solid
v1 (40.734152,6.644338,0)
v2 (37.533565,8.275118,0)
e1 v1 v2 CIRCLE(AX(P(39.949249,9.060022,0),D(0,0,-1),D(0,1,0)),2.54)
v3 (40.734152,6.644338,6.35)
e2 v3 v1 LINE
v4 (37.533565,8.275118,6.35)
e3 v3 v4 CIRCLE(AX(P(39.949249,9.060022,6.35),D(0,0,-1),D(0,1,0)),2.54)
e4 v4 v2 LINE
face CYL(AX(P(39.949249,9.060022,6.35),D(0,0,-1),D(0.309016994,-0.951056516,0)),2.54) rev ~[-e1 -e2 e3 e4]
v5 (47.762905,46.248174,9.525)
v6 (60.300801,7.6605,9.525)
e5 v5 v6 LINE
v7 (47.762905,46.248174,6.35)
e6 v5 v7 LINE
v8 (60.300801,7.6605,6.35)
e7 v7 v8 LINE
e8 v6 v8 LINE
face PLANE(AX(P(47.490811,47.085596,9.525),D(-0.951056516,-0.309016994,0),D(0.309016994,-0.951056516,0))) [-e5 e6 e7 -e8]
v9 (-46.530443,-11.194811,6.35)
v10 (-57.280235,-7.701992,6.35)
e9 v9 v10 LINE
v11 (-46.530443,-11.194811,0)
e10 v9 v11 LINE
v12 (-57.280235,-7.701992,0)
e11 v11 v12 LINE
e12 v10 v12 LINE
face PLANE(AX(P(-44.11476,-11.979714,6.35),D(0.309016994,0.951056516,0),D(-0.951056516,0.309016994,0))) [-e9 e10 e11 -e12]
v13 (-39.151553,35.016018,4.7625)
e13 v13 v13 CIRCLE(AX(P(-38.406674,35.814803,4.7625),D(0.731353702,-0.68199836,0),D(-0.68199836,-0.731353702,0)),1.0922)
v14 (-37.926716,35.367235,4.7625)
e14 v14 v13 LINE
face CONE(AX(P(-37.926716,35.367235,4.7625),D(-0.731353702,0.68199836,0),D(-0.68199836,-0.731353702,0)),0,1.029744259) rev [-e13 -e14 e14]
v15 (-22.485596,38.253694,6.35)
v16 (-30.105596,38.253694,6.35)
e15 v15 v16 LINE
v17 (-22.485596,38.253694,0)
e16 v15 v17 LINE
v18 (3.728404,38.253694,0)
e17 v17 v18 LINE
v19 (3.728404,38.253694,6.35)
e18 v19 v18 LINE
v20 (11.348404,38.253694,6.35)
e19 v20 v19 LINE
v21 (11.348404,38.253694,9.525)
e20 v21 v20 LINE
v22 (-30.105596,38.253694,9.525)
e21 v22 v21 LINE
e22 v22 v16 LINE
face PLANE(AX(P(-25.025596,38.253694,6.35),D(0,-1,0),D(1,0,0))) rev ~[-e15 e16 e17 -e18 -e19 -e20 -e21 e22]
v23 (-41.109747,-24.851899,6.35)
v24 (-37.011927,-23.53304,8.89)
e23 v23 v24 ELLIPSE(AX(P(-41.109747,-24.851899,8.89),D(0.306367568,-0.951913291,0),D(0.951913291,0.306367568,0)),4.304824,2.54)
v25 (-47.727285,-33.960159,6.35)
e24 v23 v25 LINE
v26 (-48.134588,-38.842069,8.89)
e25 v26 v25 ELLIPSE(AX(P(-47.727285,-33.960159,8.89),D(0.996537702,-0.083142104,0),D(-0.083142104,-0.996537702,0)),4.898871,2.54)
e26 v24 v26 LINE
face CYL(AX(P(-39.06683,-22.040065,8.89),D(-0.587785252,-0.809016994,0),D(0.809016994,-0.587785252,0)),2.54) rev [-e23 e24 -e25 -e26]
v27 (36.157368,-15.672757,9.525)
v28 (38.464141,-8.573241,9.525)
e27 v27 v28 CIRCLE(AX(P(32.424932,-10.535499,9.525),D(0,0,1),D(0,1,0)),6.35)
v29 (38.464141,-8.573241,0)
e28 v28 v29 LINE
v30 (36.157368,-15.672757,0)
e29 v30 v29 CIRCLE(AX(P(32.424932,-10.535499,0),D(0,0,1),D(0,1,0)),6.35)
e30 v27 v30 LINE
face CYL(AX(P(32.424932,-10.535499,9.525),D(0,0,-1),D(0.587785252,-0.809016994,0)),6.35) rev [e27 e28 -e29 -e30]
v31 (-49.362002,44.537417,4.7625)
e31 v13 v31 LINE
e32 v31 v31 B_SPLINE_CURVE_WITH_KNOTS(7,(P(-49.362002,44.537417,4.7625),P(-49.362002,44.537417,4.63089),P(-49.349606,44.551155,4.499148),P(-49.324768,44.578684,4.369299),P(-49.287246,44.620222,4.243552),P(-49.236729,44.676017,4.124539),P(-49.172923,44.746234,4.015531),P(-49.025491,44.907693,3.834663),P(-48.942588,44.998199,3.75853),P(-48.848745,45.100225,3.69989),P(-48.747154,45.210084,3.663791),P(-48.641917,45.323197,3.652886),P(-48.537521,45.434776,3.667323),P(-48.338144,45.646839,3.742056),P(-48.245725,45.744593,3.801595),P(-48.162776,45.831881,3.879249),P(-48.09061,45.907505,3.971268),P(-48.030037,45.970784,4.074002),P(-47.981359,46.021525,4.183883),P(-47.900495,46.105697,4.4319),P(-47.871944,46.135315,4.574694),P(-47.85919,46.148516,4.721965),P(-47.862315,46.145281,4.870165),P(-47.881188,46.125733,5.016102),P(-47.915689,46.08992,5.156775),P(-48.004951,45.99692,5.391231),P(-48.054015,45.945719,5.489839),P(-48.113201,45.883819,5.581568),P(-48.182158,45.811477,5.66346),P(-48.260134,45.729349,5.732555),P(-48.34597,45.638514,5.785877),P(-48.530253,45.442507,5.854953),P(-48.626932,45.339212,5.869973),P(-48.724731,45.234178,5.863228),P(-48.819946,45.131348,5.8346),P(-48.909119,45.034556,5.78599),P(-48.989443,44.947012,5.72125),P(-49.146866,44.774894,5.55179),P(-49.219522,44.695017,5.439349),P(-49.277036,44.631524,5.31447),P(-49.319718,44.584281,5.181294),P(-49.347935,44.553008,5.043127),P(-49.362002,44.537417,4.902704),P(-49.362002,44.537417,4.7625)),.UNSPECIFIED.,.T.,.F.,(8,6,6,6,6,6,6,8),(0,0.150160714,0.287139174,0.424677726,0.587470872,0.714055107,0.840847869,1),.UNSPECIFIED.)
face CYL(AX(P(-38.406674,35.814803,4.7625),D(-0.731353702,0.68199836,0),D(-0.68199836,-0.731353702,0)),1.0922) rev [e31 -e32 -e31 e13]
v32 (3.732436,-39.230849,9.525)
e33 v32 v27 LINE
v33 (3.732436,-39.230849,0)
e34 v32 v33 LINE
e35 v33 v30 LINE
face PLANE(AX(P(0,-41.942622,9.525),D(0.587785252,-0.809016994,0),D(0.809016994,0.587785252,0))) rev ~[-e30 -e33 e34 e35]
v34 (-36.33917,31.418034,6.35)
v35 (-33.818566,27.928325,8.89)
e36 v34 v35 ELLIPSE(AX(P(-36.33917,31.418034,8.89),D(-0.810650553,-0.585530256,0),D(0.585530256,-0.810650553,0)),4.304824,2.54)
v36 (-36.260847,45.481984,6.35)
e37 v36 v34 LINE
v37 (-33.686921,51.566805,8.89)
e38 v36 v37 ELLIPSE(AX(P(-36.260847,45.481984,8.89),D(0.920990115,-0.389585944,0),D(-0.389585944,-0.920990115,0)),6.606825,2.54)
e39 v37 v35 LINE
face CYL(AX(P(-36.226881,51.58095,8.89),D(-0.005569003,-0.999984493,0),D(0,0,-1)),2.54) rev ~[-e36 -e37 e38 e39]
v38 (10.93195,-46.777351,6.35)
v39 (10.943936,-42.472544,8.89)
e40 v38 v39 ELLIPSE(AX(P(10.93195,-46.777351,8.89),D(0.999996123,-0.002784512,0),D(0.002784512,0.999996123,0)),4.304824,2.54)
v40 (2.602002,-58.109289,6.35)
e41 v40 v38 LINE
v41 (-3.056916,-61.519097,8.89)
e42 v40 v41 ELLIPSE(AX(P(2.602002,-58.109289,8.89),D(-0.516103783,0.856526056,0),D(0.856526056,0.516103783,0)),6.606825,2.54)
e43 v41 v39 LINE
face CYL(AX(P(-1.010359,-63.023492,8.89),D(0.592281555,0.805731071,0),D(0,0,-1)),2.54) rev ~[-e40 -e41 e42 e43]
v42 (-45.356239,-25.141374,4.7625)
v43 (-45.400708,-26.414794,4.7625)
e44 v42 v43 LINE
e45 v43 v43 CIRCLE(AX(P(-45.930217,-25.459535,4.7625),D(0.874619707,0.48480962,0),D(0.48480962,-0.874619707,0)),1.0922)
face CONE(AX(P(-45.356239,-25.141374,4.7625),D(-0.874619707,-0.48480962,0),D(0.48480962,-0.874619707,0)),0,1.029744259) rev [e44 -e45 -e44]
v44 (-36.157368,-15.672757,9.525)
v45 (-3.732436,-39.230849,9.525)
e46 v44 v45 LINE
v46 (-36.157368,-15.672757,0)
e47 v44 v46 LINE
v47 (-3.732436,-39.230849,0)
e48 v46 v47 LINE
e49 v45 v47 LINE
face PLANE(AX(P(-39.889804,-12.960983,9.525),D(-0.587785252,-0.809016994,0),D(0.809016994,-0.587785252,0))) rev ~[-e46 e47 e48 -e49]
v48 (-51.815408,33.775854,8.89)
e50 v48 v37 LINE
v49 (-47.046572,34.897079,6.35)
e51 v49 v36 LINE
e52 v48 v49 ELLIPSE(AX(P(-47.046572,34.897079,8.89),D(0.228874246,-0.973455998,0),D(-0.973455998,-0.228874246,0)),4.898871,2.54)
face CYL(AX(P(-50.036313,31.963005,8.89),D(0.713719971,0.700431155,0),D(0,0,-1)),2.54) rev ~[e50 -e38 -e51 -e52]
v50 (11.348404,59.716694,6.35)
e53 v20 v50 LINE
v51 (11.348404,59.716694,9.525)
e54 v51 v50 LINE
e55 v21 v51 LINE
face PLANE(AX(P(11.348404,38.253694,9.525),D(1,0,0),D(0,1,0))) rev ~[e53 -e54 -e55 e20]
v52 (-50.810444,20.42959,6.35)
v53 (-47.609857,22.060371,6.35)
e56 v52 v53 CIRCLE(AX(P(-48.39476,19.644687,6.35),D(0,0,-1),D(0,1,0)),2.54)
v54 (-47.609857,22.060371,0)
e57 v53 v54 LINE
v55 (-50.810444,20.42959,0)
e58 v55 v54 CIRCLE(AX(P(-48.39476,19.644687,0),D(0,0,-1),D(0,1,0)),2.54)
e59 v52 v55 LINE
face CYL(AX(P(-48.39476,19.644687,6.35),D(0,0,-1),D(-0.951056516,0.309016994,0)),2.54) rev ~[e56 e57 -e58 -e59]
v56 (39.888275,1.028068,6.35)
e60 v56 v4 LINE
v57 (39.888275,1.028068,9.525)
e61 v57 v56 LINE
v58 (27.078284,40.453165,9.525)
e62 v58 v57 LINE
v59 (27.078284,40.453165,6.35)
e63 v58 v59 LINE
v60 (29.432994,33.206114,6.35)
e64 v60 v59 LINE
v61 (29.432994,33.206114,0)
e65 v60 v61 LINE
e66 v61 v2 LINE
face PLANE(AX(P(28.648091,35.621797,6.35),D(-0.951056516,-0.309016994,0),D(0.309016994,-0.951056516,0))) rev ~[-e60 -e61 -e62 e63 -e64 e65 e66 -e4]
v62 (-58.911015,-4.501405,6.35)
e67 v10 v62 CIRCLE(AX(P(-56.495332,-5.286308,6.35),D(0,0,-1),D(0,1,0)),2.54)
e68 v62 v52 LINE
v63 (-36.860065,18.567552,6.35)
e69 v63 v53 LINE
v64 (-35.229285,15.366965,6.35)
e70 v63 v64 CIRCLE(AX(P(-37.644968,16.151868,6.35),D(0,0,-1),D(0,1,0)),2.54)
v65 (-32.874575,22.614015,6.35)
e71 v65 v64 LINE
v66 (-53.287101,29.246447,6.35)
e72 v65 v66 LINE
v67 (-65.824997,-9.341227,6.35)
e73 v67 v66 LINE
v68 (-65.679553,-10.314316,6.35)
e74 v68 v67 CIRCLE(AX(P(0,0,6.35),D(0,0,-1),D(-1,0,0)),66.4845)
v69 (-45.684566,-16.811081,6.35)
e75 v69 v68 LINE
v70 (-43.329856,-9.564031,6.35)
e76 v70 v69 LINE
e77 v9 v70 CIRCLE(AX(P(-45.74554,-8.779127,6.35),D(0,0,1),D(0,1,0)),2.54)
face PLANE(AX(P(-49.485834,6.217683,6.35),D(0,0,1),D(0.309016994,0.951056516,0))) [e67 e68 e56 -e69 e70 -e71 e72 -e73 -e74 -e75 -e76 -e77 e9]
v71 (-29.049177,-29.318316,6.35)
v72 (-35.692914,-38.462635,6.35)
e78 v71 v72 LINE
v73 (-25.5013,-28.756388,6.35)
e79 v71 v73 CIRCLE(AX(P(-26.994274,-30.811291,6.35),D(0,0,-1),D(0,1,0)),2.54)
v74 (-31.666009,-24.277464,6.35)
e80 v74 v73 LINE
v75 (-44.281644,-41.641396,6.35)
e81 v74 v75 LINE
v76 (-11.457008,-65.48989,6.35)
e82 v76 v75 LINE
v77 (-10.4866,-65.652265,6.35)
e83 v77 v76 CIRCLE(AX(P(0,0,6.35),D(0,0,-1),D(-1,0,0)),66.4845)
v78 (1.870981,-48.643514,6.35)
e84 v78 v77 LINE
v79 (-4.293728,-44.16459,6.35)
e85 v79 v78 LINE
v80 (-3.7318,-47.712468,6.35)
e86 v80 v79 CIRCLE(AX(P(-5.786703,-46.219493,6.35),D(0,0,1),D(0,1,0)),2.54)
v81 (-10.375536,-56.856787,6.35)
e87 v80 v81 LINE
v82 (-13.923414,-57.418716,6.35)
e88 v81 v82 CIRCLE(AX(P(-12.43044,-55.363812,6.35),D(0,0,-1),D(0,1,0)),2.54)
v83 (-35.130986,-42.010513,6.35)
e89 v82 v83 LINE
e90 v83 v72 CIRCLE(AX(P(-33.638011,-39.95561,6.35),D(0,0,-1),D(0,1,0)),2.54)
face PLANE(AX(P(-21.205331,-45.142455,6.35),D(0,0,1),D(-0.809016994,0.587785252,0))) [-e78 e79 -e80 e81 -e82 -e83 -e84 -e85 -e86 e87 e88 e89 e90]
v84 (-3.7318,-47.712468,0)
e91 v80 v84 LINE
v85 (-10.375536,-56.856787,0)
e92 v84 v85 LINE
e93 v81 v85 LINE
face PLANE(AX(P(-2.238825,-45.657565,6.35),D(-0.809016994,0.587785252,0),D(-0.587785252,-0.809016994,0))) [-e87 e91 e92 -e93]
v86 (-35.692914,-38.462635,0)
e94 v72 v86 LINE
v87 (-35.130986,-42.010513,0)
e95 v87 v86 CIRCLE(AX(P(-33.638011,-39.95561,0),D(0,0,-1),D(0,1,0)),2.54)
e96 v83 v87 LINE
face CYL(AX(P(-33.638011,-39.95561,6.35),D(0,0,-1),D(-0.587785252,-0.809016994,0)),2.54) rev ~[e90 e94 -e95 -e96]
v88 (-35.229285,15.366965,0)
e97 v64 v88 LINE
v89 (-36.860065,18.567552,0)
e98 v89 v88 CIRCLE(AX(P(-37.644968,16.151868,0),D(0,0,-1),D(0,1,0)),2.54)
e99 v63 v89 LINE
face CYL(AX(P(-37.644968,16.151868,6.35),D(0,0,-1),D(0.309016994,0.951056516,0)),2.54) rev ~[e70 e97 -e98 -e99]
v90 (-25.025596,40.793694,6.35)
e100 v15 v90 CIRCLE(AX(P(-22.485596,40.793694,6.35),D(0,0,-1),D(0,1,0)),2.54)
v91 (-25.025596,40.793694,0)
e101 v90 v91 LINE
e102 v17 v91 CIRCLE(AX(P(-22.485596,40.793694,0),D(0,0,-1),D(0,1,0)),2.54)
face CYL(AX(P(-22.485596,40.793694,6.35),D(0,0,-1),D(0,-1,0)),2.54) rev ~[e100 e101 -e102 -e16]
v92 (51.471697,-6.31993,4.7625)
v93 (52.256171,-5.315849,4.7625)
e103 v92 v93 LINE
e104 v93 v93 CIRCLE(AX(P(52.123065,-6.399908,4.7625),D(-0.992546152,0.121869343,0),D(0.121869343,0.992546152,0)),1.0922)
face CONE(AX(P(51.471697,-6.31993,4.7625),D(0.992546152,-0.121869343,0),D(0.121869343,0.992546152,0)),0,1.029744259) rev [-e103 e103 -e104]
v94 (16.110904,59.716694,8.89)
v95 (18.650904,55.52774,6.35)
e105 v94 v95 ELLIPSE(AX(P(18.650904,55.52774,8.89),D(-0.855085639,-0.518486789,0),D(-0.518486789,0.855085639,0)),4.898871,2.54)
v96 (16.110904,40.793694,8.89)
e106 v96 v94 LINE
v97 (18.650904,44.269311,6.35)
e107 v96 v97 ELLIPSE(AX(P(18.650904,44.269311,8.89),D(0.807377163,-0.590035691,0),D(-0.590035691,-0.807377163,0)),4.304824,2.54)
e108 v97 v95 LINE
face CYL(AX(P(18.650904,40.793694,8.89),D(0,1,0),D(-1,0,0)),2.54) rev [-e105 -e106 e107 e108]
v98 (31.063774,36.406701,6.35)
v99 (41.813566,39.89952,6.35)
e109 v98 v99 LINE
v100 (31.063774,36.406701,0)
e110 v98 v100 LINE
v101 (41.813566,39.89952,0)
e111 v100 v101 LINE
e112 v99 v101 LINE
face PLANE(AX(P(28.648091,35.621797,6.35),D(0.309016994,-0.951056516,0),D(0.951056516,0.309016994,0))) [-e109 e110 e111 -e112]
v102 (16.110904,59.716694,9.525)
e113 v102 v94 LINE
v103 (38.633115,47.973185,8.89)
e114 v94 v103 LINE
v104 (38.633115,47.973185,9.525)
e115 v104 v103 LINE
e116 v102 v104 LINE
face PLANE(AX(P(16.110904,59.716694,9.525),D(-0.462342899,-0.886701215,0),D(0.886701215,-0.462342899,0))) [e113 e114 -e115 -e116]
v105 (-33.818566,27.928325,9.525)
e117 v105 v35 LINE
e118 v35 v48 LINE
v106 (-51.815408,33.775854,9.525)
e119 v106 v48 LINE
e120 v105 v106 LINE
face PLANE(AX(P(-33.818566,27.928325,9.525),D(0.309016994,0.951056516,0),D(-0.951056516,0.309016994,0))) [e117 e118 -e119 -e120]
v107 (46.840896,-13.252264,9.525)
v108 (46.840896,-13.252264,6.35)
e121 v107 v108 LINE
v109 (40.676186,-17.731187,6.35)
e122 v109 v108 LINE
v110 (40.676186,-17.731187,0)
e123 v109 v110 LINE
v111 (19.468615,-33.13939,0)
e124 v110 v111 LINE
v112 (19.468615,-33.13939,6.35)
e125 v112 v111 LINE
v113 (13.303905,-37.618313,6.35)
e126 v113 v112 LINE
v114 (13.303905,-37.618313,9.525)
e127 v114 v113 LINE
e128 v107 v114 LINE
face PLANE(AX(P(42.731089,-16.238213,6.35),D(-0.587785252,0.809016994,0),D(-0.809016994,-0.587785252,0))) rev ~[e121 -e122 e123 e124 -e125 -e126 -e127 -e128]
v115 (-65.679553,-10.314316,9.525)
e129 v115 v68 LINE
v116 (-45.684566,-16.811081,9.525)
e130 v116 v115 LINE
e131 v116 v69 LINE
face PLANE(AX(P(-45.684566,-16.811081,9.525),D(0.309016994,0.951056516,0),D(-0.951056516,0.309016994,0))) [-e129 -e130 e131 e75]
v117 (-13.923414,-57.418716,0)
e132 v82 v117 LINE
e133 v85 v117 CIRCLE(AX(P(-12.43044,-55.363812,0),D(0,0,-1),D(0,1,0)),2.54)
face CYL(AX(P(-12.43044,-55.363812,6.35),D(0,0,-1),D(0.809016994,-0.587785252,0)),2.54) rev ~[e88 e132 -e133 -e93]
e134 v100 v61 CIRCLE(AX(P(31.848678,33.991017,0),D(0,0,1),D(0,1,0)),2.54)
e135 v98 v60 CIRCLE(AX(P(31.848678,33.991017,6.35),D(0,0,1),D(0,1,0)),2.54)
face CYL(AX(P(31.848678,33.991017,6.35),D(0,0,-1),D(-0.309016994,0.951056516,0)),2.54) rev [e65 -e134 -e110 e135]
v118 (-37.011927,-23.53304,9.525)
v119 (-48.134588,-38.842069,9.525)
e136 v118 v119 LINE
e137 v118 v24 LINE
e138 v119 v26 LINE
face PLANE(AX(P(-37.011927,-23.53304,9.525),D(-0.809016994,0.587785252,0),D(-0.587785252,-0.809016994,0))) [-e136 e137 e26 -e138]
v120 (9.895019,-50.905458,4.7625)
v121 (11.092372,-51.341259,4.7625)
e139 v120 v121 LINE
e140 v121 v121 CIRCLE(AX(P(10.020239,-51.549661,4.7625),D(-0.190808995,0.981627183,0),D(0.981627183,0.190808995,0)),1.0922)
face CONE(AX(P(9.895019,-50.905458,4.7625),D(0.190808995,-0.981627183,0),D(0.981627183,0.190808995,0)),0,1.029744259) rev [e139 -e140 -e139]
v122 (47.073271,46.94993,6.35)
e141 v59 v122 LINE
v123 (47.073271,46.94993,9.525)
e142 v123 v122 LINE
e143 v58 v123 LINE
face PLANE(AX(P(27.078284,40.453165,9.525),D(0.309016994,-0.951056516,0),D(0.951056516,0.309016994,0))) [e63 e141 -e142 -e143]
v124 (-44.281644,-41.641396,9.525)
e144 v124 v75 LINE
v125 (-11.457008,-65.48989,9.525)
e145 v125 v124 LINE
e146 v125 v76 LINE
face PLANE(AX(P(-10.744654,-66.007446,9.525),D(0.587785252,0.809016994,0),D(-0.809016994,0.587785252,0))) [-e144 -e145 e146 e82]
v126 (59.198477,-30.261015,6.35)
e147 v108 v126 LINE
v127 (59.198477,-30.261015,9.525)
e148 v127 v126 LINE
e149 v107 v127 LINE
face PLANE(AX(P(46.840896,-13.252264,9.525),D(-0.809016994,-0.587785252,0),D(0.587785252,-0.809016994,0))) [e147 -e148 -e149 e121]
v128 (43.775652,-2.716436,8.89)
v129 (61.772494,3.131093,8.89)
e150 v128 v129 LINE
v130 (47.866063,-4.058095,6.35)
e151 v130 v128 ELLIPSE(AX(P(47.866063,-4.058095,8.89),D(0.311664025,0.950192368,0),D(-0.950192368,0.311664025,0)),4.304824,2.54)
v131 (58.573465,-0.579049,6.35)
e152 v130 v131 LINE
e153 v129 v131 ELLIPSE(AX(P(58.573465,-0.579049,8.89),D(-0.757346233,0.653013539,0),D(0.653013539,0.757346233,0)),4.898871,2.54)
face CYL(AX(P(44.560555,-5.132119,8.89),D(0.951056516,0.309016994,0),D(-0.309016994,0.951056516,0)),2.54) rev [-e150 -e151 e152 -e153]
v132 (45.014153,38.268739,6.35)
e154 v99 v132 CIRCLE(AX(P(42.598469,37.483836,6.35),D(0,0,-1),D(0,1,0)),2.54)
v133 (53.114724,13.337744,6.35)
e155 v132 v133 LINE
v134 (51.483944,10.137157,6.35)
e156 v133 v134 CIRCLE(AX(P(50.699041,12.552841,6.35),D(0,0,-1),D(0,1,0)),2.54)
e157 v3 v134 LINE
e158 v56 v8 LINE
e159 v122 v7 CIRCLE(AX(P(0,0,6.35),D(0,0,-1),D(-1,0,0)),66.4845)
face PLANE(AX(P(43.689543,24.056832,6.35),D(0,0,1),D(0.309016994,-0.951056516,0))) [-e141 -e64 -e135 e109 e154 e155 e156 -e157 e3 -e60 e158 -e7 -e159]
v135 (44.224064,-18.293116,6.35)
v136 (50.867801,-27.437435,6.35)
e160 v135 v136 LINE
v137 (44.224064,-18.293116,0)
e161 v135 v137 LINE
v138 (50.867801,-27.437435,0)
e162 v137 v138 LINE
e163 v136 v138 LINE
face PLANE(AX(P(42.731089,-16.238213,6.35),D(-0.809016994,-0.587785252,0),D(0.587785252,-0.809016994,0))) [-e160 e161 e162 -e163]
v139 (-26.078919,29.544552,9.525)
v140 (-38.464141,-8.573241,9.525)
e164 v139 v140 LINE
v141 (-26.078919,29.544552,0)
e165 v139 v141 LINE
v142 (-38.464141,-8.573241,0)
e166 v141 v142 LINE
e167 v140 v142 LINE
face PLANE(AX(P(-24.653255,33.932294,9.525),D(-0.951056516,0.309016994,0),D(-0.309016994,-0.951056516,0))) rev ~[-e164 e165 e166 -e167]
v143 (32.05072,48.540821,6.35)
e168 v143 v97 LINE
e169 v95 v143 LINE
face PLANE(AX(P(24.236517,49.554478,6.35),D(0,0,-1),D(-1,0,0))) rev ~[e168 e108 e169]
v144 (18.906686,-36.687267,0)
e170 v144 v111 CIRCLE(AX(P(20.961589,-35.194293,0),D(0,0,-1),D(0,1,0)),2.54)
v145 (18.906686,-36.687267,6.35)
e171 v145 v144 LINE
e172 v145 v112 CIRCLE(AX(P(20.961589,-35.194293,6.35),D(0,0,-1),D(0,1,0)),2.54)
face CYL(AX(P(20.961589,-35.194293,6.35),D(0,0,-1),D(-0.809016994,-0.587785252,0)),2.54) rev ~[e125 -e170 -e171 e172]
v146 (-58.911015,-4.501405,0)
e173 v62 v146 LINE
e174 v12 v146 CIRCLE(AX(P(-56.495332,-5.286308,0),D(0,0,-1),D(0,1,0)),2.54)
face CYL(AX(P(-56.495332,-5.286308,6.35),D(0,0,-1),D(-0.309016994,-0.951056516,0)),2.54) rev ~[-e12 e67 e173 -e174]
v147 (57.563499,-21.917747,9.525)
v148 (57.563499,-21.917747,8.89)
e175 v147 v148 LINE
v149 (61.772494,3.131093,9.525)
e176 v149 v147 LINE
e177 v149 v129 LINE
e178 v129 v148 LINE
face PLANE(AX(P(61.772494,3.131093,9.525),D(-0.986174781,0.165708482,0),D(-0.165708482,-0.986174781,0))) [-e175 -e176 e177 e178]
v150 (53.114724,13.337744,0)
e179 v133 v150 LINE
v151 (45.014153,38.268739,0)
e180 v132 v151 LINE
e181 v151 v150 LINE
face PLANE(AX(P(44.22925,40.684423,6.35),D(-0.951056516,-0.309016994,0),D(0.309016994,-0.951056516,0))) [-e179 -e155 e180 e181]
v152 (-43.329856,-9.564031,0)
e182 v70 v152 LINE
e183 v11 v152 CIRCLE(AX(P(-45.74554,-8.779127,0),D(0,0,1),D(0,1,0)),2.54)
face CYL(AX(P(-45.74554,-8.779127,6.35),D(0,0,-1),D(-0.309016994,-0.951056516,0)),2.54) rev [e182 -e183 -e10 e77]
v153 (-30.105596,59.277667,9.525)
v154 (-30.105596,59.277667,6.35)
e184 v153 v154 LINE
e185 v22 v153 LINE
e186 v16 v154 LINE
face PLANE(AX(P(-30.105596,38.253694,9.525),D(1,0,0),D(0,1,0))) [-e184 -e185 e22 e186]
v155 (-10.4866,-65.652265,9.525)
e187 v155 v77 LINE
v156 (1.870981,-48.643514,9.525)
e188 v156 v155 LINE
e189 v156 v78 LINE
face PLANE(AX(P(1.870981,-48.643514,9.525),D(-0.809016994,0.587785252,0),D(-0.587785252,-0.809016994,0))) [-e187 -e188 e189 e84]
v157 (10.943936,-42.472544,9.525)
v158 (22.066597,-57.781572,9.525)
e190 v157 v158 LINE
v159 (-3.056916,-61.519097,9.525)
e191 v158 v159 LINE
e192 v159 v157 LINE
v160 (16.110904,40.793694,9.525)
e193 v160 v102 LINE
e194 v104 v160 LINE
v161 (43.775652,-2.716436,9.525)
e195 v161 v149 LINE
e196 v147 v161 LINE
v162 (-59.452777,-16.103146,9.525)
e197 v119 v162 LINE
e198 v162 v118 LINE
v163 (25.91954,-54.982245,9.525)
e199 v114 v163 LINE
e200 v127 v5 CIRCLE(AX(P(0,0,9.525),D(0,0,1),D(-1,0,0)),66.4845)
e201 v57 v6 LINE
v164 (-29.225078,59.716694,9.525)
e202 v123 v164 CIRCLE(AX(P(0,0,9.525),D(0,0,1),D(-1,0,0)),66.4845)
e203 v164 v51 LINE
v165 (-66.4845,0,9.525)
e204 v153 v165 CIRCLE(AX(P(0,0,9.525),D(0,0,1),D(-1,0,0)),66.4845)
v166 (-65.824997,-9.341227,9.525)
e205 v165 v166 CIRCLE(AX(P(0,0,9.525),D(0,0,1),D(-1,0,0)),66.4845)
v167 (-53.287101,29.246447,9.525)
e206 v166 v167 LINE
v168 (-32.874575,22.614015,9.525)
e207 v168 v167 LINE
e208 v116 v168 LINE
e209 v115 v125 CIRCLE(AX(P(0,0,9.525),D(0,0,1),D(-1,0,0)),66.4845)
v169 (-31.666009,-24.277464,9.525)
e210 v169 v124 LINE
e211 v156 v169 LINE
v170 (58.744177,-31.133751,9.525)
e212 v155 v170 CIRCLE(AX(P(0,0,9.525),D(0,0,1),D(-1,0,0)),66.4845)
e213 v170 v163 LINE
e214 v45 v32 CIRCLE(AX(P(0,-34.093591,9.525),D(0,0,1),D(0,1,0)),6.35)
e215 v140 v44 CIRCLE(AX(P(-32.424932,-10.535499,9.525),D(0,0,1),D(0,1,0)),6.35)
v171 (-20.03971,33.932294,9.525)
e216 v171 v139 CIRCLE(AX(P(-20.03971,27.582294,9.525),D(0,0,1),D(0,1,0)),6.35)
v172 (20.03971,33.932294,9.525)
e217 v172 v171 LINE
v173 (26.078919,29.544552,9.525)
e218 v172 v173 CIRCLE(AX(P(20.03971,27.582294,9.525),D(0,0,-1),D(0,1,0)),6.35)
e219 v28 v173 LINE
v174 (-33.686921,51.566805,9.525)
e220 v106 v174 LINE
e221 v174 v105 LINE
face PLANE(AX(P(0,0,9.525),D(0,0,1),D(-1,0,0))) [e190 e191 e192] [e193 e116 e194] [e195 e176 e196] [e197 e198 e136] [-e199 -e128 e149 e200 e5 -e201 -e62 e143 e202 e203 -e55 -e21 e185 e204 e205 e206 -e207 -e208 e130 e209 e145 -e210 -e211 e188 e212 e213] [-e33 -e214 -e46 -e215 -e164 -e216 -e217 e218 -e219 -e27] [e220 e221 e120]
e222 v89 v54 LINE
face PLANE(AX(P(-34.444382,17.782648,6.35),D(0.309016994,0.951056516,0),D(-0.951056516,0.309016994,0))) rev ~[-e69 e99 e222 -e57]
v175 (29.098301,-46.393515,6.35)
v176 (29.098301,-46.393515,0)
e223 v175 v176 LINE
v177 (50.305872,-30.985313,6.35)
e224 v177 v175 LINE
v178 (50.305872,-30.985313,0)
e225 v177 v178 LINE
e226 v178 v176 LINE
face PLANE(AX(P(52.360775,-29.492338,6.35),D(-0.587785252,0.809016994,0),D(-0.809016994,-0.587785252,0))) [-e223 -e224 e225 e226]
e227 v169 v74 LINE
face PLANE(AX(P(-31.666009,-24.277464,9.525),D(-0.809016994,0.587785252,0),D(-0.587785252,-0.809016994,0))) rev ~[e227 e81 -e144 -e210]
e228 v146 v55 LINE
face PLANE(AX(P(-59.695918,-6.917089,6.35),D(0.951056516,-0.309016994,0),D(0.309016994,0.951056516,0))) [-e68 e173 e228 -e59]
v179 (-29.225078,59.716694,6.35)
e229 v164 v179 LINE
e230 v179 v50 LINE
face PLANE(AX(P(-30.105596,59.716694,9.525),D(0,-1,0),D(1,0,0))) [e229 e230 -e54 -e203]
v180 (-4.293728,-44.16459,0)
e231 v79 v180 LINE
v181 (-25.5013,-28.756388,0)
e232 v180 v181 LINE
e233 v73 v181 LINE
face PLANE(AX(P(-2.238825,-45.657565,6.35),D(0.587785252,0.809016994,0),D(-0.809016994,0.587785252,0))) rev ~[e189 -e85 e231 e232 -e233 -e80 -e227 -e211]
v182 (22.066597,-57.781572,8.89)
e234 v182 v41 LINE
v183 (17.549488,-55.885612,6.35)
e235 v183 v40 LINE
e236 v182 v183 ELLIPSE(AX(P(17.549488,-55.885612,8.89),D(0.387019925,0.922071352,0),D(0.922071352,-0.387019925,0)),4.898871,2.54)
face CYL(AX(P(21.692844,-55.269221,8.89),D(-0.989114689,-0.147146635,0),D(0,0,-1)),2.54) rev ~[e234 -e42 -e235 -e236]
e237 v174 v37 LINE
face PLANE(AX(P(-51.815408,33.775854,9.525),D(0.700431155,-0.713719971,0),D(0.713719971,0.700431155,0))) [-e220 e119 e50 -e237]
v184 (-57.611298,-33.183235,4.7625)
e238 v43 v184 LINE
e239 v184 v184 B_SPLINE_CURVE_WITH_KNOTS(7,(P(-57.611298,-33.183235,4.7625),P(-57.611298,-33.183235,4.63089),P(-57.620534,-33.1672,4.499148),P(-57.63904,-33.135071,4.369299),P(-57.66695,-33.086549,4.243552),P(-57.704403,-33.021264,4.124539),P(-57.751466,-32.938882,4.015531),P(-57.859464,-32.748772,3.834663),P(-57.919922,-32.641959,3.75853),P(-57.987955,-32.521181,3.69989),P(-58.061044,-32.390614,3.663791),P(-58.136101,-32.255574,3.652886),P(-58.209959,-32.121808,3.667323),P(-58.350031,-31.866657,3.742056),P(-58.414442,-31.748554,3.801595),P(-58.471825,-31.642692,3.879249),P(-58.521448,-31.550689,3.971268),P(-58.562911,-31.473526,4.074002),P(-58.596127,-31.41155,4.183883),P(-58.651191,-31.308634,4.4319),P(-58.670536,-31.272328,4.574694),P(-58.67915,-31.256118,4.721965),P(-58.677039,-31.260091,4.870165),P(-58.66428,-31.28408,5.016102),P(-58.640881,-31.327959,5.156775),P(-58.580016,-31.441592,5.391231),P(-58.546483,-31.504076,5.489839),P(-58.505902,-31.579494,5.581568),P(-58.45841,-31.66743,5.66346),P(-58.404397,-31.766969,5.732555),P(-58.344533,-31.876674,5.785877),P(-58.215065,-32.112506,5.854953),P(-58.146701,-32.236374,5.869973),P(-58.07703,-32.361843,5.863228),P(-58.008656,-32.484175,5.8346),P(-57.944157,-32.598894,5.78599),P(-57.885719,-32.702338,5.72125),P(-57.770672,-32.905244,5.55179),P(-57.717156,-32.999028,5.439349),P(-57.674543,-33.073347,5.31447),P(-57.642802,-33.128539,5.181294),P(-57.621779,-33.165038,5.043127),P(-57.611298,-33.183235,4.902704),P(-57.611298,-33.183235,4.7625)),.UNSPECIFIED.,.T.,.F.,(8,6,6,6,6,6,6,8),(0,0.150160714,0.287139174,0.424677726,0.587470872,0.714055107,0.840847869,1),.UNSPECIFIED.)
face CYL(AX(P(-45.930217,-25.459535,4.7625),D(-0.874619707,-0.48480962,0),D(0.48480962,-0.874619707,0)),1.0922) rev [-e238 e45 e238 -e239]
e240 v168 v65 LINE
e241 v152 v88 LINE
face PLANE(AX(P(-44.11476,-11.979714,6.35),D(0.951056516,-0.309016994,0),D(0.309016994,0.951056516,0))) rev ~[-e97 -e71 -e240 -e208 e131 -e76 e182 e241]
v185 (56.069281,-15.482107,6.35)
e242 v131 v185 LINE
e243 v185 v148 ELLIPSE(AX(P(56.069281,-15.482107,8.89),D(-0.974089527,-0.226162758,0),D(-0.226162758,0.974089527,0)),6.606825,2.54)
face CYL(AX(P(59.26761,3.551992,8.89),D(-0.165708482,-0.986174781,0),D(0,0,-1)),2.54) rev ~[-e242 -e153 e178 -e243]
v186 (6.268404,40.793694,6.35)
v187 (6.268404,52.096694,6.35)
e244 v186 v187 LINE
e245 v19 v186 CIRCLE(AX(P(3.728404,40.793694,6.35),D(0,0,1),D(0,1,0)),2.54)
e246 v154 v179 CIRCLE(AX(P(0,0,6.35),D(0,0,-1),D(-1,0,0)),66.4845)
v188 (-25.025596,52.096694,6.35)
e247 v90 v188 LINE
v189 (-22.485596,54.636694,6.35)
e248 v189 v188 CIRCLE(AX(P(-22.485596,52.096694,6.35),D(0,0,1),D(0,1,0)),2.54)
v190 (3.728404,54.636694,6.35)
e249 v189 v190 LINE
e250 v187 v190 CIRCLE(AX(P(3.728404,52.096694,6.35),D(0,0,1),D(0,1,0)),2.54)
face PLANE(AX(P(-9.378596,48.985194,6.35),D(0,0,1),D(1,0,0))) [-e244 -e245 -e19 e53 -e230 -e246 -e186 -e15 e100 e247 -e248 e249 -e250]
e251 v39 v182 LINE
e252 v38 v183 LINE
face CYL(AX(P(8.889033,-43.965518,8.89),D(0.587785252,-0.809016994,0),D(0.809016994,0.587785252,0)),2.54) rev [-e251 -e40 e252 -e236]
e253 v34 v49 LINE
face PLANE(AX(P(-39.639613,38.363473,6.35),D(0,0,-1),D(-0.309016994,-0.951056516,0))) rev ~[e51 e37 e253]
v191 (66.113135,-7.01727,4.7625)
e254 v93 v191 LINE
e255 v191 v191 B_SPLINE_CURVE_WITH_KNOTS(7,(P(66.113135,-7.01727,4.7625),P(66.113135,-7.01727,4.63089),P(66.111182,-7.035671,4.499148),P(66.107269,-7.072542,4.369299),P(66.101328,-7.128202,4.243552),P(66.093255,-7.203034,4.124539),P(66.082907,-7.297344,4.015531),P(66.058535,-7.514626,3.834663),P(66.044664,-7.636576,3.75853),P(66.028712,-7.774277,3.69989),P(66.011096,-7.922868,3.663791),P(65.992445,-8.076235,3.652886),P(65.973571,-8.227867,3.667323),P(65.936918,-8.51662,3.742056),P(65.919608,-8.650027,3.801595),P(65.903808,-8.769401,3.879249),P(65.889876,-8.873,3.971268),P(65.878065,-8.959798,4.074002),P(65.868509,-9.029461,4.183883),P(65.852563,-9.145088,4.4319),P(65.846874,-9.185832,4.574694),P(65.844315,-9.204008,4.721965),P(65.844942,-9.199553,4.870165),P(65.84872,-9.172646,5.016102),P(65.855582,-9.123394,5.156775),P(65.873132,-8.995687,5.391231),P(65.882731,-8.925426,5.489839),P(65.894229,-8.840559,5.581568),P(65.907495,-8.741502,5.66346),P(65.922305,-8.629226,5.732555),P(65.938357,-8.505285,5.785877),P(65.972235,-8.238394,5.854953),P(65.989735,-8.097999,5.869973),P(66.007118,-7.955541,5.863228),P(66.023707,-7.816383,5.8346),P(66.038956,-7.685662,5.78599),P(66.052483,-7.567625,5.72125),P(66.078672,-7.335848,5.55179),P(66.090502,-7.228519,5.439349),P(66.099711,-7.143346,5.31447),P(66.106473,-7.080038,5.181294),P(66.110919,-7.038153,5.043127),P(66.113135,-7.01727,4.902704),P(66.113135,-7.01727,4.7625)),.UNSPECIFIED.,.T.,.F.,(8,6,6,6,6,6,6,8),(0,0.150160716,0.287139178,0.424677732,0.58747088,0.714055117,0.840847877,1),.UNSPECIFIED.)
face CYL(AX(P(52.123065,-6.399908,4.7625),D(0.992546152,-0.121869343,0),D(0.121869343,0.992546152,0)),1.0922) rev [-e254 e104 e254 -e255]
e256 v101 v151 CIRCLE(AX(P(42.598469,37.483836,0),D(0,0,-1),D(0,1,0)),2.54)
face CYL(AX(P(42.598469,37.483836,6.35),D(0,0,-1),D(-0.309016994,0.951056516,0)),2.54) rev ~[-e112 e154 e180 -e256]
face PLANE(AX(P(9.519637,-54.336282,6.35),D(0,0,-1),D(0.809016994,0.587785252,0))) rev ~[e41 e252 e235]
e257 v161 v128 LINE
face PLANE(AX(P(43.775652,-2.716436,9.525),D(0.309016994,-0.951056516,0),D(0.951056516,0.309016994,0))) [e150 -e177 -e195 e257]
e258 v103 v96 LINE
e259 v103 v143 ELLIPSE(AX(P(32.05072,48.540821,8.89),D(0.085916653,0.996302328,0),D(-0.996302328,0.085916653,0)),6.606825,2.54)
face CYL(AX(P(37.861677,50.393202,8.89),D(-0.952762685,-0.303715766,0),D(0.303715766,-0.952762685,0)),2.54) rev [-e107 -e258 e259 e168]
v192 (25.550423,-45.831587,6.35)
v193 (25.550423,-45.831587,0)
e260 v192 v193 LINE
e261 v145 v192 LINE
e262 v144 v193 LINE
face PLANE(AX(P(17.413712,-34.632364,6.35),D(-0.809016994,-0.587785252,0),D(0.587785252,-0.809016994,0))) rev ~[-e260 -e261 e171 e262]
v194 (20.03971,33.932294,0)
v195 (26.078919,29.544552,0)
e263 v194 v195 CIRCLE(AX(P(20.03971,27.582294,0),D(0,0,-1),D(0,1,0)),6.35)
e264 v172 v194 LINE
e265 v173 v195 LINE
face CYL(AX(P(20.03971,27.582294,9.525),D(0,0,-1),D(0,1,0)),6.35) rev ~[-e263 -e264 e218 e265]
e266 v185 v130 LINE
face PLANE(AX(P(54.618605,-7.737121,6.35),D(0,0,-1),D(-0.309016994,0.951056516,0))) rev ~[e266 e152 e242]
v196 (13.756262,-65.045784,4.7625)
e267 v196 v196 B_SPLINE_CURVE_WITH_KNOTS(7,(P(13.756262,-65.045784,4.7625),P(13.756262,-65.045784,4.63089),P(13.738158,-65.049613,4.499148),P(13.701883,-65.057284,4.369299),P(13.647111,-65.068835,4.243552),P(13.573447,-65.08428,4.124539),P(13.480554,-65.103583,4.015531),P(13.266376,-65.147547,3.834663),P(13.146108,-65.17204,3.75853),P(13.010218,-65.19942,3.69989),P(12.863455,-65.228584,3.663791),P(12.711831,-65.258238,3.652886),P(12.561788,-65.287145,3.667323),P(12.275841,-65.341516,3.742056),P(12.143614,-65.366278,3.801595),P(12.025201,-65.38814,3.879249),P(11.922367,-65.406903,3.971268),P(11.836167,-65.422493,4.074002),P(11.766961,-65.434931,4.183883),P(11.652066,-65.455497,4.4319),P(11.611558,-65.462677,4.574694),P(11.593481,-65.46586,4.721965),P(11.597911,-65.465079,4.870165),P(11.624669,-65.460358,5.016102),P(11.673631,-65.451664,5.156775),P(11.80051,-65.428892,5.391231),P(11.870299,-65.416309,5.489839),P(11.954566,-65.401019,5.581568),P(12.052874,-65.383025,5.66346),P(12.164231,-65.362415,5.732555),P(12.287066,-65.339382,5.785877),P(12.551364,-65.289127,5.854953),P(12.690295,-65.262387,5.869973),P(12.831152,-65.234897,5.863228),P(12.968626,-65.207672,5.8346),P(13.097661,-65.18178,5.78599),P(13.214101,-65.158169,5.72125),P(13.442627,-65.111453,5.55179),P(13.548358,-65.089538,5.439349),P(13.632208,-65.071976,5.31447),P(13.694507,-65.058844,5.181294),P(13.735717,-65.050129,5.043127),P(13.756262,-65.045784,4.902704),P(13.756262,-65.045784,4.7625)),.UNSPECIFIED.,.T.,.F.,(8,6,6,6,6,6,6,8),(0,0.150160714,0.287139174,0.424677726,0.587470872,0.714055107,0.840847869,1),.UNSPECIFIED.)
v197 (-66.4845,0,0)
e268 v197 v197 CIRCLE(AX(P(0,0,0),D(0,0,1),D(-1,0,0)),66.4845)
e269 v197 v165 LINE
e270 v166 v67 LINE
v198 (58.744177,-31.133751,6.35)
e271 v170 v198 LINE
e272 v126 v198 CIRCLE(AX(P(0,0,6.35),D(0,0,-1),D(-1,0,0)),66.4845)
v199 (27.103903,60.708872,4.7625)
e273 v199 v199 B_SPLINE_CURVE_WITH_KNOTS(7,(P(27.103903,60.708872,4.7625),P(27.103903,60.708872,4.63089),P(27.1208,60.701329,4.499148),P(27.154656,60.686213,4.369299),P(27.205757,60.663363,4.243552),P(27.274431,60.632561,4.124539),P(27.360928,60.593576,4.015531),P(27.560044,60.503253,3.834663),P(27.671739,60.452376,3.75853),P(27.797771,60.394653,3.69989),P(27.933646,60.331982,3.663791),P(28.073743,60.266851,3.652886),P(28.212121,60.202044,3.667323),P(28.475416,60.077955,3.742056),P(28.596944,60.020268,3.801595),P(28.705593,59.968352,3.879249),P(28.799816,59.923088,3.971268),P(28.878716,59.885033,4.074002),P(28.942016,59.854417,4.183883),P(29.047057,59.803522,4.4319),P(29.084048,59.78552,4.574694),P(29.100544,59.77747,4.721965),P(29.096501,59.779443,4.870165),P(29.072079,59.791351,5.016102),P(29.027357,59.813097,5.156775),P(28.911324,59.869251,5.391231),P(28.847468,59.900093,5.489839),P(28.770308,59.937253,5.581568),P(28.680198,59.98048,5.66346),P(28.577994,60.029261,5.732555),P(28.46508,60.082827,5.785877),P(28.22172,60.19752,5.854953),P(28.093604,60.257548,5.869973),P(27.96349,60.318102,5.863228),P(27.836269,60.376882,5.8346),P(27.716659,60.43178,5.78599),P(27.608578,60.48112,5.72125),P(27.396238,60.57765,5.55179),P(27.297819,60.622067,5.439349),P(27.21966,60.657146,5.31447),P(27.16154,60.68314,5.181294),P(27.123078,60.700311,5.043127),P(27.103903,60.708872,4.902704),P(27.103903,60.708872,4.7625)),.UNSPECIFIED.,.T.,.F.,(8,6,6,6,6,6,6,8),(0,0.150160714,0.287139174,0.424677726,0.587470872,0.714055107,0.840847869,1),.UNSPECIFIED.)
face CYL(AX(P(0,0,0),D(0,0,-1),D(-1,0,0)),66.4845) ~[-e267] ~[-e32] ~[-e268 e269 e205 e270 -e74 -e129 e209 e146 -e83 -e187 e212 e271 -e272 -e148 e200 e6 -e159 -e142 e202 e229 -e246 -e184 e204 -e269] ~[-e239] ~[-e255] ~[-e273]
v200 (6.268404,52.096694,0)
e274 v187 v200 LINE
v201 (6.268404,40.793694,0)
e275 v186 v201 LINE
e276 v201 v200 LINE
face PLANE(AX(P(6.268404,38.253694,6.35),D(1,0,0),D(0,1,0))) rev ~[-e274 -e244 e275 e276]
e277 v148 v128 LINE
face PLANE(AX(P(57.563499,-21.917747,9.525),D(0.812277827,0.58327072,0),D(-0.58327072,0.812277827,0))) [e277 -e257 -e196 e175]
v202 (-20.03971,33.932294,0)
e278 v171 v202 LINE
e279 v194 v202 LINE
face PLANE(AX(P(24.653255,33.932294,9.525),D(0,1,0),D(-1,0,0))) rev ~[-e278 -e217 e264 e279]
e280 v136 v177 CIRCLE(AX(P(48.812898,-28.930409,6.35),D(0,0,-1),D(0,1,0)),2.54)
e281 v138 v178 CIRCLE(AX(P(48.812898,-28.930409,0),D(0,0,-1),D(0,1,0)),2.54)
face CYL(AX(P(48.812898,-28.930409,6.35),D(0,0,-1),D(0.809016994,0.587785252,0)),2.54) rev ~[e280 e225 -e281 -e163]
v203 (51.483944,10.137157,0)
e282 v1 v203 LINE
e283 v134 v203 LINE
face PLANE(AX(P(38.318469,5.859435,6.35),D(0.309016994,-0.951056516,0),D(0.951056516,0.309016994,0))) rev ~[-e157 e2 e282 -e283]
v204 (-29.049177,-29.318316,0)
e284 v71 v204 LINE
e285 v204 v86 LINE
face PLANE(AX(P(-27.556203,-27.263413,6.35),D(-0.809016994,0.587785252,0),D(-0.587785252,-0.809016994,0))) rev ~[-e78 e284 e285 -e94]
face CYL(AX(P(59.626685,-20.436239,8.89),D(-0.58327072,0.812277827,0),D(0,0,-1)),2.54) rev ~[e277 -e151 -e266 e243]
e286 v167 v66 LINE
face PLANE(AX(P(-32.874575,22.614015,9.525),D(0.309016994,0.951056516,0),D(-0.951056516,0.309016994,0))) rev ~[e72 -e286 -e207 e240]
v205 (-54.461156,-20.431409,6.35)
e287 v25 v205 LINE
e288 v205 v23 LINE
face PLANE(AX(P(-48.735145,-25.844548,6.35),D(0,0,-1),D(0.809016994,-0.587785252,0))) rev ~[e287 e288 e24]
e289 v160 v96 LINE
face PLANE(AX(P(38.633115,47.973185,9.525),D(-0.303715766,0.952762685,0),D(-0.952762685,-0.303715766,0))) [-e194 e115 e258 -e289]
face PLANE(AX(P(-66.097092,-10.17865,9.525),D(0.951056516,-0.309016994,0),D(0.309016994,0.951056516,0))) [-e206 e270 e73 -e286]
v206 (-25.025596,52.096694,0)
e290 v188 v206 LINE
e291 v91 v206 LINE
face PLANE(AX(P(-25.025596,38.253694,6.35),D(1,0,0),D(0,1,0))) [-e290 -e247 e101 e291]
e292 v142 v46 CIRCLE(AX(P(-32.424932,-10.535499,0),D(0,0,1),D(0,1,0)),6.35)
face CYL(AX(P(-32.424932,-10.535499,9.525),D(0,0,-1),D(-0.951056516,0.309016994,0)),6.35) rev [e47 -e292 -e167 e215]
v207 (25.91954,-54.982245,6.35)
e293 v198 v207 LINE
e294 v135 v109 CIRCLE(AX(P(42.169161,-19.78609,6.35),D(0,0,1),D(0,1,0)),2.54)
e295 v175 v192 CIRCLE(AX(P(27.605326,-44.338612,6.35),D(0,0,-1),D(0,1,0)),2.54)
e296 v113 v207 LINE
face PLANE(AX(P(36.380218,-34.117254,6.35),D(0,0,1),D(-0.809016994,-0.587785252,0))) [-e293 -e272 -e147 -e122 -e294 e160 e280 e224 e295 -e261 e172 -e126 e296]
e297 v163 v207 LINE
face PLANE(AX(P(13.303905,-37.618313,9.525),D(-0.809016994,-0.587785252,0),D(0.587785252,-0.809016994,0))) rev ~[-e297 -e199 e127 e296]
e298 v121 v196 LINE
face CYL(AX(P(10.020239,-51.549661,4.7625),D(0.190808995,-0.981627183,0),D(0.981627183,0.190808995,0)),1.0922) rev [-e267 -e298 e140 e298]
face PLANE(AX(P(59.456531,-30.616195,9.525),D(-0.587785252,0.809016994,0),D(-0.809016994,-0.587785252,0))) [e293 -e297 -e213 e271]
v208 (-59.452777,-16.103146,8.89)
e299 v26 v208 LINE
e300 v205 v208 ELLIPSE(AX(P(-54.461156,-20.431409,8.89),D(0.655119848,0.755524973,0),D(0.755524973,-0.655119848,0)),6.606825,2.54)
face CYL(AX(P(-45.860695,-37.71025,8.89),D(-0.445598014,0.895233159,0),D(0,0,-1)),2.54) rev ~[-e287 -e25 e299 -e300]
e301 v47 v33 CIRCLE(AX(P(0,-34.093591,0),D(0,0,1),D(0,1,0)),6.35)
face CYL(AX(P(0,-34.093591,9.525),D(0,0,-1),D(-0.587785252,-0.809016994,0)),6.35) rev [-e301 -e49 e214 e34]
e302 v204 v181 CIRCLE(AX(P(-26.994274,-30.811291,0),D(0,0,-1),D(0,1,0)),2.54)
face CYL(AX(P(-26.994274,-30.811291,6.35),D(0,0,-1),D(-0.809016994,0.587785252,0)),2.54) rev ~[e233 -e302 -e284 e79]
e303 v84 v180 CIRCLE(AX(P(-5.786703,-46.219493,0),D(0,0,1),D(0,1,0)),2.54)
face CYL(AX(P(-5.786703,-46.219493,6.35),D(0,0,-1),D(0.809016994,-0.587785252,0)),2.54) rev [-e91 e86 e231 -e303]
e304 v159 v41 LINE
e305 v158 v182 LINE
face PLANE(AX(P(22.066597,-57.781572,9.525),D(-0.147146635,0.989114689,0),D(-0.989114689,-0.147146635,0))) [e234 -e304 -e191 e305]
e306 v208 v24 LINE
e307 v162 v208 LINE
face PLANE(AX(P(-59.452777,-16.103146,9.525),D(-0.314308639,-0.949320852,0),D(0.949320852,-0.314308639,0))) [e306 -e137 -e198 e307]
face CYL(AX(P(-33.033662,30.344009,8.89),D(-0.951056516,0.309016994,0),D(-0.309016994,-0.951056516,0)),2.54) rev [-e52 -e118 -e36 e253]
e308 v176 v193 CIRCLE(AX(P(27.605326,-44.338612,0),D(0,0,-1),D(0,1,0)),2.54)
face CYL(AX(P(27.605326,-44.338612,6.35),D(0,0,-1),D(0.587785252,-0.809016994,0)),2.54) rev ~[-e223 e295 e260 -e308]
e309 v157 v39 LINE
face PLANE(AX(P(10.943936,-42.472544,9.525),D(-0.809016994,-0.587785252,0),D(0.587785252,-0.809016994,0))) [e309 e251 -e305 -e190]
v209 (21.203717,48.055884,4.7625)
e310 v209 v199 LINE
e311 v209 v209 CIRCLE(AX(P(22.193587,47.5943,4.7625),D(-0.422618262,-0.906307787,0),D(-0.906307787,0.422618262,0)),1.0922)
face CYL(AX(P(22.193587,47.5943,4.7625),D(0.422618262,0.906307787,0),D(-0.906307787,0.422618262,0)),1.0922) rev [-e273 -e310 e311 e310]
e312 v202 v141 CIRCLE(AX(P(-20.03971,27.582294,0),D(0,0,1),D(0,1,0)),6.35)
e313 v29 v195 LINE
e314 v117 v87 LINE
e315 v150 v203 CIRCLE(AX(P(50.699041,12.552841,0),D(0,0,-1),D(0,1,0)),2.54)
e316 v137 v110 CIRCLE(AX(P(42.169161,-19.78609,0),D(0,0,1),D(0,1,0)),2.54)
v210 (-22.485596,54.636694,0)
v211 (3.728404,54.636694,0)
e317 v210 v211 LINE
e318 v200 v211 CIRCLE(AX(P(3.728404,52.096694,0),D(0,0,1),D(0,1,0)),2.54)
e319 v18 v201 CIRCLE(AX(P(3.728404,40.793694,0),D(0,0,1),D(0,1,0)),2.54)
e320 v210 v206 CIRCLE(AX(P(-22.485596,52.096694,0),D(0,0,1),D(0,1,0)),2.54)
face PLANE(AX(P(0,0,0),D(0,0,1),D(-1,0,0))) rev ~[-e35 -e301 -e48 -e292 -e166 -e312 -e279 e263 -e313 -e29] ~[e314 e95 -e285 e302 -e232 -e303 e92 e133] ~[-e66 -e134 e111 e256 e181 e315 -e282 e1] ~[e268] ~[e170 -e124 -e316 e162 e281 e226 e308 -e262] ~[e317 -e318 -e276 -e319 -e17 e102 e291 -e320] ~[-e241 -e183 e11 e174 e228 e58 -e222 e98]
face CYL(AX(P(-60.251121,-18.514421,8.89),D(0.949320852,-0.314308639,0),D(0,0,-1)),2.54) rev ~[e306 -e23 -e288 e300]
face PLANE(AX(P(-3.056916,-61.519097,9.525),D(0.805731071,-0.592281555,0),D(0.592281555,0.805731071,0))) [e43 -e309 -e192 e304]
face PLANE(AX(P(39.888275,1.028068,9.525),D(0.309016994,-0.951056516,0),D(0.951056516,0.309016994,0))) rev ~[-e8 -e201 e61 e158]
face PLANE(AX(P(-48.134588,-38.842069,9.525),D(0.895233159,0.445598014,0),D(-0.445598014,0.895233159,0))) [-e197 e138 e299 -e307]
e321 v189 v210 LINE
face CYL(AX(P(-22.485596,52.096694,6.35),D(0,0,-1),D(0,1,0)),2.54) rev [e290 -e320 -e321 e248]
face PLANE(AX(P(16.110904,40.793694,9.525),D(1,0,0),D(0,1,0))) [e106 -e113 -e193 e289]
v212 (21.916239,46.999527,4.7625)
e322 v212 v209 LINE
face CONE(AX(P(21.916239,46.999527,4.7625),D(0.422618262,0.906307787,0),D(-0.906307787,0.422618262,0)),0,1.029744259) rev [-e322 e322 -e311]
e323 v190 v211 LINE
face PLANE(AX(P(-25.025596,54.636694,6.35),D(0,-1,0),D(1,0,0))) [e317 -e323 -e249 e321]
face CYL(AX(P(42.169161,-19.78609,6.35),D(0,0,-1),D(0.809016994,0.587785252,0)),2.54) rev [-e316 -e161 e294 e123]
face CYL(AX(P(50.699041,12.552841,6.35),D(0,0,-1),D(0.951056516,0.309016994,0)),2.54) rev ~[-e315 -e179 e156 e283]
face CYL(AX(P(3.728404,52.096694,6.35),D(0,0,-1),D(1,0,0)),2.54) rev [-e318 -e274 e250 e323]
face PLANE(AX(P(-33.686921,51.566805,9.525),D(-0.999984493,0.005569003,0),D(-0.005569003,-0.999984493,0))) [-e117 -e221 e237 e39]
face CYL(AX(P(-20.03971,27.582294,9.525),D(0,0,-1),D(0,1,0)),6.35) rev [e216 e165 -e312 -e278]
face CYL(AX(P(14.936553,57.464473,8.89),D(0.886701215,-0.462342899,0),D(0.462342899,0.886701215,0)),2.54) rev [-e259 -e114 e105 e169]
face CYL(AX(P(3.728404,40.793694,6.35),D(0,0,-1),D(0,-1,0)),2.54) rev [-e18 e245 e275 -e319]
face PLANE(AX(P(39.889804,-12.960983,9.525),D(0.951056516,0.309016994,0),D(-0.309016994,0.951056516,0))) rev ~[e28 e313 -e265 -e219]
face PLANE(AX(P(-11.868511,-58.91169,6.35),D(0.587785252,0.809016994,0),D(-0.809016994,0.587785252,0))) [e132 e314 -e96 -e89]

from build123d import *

# Parameters (mm, degrees)
SKETCH1_R                = 66.4845
BOSS_EXTRUDE1_DEPTH      = 9.525
CUT_EXTRUDE1_DEPTH       = 95.504513678
FILLET1_R                = 6.35
SKETCH3_W                = 41.453999896
SKETCH3_H                = 21.463
CUT_EXTRUDE5_DEPTH       = 3.175
SKETCH4_W                = 31.293999896
SKETCH4_H                = 16.383
CUT_EXTRUDE6_DEPTH       = 95.237465907
FILLET2_R                = 2.54
CIRPATTERN1_COUNT        = 5
FILLET2_OF_CIRPATTERN1_R = 2.54


with BuildPart() as part:
    # Sketch1 → Boss-Extrude1 (new body)
    with BuildSketch(Plane.XY):
        with Locations(Location((0, 0, 0), (0, 0, 180))):
            Circle(SKETCH1_R)
    extrude(amount=BOSS_EXTRUDE1_DEPTH)

    # Sketch2 → Cut-Extrude1 (cut, through all)
    with BuildSketch(Plane.XY.offset(9.525)):
        Polygon((24.653254911, 33.93229434), (-24.653254911, 33.93229434), (-39.889804379, -12.960983122), (0, -41.942622437), (39.889804379, -12.960983122), align=None)
    extrude(amount=-CUT_EXTRUDE1_DEPTH, mode=Mode.SUBTRACT)

    # Fillet1
    fillet1_edges = [part.edges().sort_by_distance(p)[0] for p in [
        (24.653254911, 33.93229434, 4.7625),
        (39.889804379, -12.960983122, 4.7625),
        (0, -41.942622437, 4.7625),
        (-39.889804379, -12.960983122, 4.7625),
        (-24.653254911, 33.93229434, 4.7625),
    ]]
    fillet(fillet1_edges, radius=FILLET1_R)

    # Sketch3 → Cut-Extrude5 (cut)
    with BuildSketch(Plane.XY.offset(9.525)):
        Polygon((16.110904278, 40.793694229), (16.110904278, 59.716694229), (38.633115128, 47.973184599), align=None)
        with Locations((-9.37859567, 48.985194229)):
            Rectangle(SKETCH3_W, SKETCH3_H)
    cut_extrude5 = extrude(amount=-CUT_EXTRUDE5_DEPTH, mode=Mode.SUBTRACT)

    # Sketch4 → Cut-Extrude6 (cut, through all)
    with BuildSketch(Plane.XY.offset(6.35)):
        with Locations((-9.37859567, 46.445194229)):
            Rectangle(SKETCH4_W, SKETCH4_H)
    cut_extrude6 = extrude(amount=-CUT_EXTRUDE6_DEPTH, mode=Mode.SUBTRACT)

    # Fillet2
    fillet2_edges = [part.edges().sort_by_distance(p)[0] for p in [
        (27.372009703, 44.383439414, 6.35),
        (16.110904278, 50.255194229, 6.35),
        (27.372009703, 53.844939414, 6.35),
        (-25.025595618, 38.253694229, 3.175),
        (-25.025595618, 54.636694229, 3.175),
        (6.268404278, 54.636694229, 3.175),
        (6.268404278, 38.253694229, 3.175),
    ]]
    fillet(fillet2_edges, radius=FILLET2_R)

    # Sketch7 → #44 (0.086) Diameter Hole1 (revolve, cut)
    with BuildSketch(Plane(origin=(28.097563823, 60.255420067, 4.7625), x_dir=(-0.9063077870366496, 0.4226182617407002, 0), z_dir=(0, 0, 1))):
        Polygon((0, 0), (0, 14.626259968), (1.0922, 13.97), (1.0922, 0), align=None)
    f_44_0_086_diameter_hole1 = revolve(axis=Axis((30.781189785, 66.010474515, 4.7625), (-0.42261826174070033, -0.9063077870366496, 0)), mode=Mode.SUBTRACT)

    # CirPattern1: Cut-Extrude5, Cut-Extrude6, #44 (0.086) Diameter Hole1 ×5 about axis
    cirpattern1_axis = Axis((0, 0, 0), (0, 0, 1))
    add([cut_extrude5.rotate(cirpattern1_axis, i * 360 / CIRPATTERN1_COUNT) for i in range(1, CIRPATTERN1_COUNT)], mode=Mode.SUBTRACT)
    add([cut_extrude6.rotate(cirpattern1_axis, i * 360 / CIRPATTERN1_COUNT) for i in range(1, CIRPATTERN1_COUNT)], mode=Mode.SUBTRACT)
    add([f_44_0_086_diameter_hole1.rotate(cirpattern1_axis, i * 360 / CIRPATTERN1_COUNT) for i in range(1, CIRPATTERN1_COUNT)], mode=Mode.SUBTRACT)

    # Fillet2 of CirPattern1
    fillet2_of_cirpattern1_edges = [part.edges().sort_by_distance(p)[0] for p in [
        (-33.752743102, 39.74756524, 6.35),
        (-42.816986733, 30.852089569, 6.35),
        (-42.751164331, 42.671329532, 6.35),
        (-44.114759509, -11.979714172, 3.175),
        (-59.695918416, -6.917088753, 3.175),
        (-50.025540626, 22.845273769, 3.175),
        (-34.44438172, 17.78264835, 3.175),
        (-48.232352153, -19.818093126, 6.35),
        (-42.573257375, -31.187554251, 6.35),
        (-53.793682318, -27.472607418, 6.35),
        (-2.238825164, -45.657564763, 3.175),
        (-11.868510953, -58.911690182, 3.175),
        (-37.18588869, -40.517538558, 3.175),
        (-27.556202902, -27.263413139, 3.175),
        (3.943510114, -51.995820384, 6.35),
        (16.505266663, -50.127058123, 6.35),
        (9.504840278, -59.650334676, 6.35),
        (42.731089463, -16.238212695, 3.175),
        (52.360775251, -29.492338114, 3.175),
        (27.043397513, -47.886489738, 3.175),
        (17.413711725, -34.632364319, 3.175),
        (50.669575439, -12.317091144, 6.35),
        (52.774073166, 0.207328575, 6.35),
        (59.667996668, -9.393326852, 6.35),
        (28.648090829, 35.621797401, 3.175),
        (44.229249735, 40.68442282, 3.175),
        (53.899627525, 10.922060298, 3.175),
        (38.318468619, 5.859434879, 3.175),
    ]]
    fillet(fillet2_of_cirpattern1_edges, radius=FILLET2_OF_CIRPATTERN1_R)


solid = part.part
